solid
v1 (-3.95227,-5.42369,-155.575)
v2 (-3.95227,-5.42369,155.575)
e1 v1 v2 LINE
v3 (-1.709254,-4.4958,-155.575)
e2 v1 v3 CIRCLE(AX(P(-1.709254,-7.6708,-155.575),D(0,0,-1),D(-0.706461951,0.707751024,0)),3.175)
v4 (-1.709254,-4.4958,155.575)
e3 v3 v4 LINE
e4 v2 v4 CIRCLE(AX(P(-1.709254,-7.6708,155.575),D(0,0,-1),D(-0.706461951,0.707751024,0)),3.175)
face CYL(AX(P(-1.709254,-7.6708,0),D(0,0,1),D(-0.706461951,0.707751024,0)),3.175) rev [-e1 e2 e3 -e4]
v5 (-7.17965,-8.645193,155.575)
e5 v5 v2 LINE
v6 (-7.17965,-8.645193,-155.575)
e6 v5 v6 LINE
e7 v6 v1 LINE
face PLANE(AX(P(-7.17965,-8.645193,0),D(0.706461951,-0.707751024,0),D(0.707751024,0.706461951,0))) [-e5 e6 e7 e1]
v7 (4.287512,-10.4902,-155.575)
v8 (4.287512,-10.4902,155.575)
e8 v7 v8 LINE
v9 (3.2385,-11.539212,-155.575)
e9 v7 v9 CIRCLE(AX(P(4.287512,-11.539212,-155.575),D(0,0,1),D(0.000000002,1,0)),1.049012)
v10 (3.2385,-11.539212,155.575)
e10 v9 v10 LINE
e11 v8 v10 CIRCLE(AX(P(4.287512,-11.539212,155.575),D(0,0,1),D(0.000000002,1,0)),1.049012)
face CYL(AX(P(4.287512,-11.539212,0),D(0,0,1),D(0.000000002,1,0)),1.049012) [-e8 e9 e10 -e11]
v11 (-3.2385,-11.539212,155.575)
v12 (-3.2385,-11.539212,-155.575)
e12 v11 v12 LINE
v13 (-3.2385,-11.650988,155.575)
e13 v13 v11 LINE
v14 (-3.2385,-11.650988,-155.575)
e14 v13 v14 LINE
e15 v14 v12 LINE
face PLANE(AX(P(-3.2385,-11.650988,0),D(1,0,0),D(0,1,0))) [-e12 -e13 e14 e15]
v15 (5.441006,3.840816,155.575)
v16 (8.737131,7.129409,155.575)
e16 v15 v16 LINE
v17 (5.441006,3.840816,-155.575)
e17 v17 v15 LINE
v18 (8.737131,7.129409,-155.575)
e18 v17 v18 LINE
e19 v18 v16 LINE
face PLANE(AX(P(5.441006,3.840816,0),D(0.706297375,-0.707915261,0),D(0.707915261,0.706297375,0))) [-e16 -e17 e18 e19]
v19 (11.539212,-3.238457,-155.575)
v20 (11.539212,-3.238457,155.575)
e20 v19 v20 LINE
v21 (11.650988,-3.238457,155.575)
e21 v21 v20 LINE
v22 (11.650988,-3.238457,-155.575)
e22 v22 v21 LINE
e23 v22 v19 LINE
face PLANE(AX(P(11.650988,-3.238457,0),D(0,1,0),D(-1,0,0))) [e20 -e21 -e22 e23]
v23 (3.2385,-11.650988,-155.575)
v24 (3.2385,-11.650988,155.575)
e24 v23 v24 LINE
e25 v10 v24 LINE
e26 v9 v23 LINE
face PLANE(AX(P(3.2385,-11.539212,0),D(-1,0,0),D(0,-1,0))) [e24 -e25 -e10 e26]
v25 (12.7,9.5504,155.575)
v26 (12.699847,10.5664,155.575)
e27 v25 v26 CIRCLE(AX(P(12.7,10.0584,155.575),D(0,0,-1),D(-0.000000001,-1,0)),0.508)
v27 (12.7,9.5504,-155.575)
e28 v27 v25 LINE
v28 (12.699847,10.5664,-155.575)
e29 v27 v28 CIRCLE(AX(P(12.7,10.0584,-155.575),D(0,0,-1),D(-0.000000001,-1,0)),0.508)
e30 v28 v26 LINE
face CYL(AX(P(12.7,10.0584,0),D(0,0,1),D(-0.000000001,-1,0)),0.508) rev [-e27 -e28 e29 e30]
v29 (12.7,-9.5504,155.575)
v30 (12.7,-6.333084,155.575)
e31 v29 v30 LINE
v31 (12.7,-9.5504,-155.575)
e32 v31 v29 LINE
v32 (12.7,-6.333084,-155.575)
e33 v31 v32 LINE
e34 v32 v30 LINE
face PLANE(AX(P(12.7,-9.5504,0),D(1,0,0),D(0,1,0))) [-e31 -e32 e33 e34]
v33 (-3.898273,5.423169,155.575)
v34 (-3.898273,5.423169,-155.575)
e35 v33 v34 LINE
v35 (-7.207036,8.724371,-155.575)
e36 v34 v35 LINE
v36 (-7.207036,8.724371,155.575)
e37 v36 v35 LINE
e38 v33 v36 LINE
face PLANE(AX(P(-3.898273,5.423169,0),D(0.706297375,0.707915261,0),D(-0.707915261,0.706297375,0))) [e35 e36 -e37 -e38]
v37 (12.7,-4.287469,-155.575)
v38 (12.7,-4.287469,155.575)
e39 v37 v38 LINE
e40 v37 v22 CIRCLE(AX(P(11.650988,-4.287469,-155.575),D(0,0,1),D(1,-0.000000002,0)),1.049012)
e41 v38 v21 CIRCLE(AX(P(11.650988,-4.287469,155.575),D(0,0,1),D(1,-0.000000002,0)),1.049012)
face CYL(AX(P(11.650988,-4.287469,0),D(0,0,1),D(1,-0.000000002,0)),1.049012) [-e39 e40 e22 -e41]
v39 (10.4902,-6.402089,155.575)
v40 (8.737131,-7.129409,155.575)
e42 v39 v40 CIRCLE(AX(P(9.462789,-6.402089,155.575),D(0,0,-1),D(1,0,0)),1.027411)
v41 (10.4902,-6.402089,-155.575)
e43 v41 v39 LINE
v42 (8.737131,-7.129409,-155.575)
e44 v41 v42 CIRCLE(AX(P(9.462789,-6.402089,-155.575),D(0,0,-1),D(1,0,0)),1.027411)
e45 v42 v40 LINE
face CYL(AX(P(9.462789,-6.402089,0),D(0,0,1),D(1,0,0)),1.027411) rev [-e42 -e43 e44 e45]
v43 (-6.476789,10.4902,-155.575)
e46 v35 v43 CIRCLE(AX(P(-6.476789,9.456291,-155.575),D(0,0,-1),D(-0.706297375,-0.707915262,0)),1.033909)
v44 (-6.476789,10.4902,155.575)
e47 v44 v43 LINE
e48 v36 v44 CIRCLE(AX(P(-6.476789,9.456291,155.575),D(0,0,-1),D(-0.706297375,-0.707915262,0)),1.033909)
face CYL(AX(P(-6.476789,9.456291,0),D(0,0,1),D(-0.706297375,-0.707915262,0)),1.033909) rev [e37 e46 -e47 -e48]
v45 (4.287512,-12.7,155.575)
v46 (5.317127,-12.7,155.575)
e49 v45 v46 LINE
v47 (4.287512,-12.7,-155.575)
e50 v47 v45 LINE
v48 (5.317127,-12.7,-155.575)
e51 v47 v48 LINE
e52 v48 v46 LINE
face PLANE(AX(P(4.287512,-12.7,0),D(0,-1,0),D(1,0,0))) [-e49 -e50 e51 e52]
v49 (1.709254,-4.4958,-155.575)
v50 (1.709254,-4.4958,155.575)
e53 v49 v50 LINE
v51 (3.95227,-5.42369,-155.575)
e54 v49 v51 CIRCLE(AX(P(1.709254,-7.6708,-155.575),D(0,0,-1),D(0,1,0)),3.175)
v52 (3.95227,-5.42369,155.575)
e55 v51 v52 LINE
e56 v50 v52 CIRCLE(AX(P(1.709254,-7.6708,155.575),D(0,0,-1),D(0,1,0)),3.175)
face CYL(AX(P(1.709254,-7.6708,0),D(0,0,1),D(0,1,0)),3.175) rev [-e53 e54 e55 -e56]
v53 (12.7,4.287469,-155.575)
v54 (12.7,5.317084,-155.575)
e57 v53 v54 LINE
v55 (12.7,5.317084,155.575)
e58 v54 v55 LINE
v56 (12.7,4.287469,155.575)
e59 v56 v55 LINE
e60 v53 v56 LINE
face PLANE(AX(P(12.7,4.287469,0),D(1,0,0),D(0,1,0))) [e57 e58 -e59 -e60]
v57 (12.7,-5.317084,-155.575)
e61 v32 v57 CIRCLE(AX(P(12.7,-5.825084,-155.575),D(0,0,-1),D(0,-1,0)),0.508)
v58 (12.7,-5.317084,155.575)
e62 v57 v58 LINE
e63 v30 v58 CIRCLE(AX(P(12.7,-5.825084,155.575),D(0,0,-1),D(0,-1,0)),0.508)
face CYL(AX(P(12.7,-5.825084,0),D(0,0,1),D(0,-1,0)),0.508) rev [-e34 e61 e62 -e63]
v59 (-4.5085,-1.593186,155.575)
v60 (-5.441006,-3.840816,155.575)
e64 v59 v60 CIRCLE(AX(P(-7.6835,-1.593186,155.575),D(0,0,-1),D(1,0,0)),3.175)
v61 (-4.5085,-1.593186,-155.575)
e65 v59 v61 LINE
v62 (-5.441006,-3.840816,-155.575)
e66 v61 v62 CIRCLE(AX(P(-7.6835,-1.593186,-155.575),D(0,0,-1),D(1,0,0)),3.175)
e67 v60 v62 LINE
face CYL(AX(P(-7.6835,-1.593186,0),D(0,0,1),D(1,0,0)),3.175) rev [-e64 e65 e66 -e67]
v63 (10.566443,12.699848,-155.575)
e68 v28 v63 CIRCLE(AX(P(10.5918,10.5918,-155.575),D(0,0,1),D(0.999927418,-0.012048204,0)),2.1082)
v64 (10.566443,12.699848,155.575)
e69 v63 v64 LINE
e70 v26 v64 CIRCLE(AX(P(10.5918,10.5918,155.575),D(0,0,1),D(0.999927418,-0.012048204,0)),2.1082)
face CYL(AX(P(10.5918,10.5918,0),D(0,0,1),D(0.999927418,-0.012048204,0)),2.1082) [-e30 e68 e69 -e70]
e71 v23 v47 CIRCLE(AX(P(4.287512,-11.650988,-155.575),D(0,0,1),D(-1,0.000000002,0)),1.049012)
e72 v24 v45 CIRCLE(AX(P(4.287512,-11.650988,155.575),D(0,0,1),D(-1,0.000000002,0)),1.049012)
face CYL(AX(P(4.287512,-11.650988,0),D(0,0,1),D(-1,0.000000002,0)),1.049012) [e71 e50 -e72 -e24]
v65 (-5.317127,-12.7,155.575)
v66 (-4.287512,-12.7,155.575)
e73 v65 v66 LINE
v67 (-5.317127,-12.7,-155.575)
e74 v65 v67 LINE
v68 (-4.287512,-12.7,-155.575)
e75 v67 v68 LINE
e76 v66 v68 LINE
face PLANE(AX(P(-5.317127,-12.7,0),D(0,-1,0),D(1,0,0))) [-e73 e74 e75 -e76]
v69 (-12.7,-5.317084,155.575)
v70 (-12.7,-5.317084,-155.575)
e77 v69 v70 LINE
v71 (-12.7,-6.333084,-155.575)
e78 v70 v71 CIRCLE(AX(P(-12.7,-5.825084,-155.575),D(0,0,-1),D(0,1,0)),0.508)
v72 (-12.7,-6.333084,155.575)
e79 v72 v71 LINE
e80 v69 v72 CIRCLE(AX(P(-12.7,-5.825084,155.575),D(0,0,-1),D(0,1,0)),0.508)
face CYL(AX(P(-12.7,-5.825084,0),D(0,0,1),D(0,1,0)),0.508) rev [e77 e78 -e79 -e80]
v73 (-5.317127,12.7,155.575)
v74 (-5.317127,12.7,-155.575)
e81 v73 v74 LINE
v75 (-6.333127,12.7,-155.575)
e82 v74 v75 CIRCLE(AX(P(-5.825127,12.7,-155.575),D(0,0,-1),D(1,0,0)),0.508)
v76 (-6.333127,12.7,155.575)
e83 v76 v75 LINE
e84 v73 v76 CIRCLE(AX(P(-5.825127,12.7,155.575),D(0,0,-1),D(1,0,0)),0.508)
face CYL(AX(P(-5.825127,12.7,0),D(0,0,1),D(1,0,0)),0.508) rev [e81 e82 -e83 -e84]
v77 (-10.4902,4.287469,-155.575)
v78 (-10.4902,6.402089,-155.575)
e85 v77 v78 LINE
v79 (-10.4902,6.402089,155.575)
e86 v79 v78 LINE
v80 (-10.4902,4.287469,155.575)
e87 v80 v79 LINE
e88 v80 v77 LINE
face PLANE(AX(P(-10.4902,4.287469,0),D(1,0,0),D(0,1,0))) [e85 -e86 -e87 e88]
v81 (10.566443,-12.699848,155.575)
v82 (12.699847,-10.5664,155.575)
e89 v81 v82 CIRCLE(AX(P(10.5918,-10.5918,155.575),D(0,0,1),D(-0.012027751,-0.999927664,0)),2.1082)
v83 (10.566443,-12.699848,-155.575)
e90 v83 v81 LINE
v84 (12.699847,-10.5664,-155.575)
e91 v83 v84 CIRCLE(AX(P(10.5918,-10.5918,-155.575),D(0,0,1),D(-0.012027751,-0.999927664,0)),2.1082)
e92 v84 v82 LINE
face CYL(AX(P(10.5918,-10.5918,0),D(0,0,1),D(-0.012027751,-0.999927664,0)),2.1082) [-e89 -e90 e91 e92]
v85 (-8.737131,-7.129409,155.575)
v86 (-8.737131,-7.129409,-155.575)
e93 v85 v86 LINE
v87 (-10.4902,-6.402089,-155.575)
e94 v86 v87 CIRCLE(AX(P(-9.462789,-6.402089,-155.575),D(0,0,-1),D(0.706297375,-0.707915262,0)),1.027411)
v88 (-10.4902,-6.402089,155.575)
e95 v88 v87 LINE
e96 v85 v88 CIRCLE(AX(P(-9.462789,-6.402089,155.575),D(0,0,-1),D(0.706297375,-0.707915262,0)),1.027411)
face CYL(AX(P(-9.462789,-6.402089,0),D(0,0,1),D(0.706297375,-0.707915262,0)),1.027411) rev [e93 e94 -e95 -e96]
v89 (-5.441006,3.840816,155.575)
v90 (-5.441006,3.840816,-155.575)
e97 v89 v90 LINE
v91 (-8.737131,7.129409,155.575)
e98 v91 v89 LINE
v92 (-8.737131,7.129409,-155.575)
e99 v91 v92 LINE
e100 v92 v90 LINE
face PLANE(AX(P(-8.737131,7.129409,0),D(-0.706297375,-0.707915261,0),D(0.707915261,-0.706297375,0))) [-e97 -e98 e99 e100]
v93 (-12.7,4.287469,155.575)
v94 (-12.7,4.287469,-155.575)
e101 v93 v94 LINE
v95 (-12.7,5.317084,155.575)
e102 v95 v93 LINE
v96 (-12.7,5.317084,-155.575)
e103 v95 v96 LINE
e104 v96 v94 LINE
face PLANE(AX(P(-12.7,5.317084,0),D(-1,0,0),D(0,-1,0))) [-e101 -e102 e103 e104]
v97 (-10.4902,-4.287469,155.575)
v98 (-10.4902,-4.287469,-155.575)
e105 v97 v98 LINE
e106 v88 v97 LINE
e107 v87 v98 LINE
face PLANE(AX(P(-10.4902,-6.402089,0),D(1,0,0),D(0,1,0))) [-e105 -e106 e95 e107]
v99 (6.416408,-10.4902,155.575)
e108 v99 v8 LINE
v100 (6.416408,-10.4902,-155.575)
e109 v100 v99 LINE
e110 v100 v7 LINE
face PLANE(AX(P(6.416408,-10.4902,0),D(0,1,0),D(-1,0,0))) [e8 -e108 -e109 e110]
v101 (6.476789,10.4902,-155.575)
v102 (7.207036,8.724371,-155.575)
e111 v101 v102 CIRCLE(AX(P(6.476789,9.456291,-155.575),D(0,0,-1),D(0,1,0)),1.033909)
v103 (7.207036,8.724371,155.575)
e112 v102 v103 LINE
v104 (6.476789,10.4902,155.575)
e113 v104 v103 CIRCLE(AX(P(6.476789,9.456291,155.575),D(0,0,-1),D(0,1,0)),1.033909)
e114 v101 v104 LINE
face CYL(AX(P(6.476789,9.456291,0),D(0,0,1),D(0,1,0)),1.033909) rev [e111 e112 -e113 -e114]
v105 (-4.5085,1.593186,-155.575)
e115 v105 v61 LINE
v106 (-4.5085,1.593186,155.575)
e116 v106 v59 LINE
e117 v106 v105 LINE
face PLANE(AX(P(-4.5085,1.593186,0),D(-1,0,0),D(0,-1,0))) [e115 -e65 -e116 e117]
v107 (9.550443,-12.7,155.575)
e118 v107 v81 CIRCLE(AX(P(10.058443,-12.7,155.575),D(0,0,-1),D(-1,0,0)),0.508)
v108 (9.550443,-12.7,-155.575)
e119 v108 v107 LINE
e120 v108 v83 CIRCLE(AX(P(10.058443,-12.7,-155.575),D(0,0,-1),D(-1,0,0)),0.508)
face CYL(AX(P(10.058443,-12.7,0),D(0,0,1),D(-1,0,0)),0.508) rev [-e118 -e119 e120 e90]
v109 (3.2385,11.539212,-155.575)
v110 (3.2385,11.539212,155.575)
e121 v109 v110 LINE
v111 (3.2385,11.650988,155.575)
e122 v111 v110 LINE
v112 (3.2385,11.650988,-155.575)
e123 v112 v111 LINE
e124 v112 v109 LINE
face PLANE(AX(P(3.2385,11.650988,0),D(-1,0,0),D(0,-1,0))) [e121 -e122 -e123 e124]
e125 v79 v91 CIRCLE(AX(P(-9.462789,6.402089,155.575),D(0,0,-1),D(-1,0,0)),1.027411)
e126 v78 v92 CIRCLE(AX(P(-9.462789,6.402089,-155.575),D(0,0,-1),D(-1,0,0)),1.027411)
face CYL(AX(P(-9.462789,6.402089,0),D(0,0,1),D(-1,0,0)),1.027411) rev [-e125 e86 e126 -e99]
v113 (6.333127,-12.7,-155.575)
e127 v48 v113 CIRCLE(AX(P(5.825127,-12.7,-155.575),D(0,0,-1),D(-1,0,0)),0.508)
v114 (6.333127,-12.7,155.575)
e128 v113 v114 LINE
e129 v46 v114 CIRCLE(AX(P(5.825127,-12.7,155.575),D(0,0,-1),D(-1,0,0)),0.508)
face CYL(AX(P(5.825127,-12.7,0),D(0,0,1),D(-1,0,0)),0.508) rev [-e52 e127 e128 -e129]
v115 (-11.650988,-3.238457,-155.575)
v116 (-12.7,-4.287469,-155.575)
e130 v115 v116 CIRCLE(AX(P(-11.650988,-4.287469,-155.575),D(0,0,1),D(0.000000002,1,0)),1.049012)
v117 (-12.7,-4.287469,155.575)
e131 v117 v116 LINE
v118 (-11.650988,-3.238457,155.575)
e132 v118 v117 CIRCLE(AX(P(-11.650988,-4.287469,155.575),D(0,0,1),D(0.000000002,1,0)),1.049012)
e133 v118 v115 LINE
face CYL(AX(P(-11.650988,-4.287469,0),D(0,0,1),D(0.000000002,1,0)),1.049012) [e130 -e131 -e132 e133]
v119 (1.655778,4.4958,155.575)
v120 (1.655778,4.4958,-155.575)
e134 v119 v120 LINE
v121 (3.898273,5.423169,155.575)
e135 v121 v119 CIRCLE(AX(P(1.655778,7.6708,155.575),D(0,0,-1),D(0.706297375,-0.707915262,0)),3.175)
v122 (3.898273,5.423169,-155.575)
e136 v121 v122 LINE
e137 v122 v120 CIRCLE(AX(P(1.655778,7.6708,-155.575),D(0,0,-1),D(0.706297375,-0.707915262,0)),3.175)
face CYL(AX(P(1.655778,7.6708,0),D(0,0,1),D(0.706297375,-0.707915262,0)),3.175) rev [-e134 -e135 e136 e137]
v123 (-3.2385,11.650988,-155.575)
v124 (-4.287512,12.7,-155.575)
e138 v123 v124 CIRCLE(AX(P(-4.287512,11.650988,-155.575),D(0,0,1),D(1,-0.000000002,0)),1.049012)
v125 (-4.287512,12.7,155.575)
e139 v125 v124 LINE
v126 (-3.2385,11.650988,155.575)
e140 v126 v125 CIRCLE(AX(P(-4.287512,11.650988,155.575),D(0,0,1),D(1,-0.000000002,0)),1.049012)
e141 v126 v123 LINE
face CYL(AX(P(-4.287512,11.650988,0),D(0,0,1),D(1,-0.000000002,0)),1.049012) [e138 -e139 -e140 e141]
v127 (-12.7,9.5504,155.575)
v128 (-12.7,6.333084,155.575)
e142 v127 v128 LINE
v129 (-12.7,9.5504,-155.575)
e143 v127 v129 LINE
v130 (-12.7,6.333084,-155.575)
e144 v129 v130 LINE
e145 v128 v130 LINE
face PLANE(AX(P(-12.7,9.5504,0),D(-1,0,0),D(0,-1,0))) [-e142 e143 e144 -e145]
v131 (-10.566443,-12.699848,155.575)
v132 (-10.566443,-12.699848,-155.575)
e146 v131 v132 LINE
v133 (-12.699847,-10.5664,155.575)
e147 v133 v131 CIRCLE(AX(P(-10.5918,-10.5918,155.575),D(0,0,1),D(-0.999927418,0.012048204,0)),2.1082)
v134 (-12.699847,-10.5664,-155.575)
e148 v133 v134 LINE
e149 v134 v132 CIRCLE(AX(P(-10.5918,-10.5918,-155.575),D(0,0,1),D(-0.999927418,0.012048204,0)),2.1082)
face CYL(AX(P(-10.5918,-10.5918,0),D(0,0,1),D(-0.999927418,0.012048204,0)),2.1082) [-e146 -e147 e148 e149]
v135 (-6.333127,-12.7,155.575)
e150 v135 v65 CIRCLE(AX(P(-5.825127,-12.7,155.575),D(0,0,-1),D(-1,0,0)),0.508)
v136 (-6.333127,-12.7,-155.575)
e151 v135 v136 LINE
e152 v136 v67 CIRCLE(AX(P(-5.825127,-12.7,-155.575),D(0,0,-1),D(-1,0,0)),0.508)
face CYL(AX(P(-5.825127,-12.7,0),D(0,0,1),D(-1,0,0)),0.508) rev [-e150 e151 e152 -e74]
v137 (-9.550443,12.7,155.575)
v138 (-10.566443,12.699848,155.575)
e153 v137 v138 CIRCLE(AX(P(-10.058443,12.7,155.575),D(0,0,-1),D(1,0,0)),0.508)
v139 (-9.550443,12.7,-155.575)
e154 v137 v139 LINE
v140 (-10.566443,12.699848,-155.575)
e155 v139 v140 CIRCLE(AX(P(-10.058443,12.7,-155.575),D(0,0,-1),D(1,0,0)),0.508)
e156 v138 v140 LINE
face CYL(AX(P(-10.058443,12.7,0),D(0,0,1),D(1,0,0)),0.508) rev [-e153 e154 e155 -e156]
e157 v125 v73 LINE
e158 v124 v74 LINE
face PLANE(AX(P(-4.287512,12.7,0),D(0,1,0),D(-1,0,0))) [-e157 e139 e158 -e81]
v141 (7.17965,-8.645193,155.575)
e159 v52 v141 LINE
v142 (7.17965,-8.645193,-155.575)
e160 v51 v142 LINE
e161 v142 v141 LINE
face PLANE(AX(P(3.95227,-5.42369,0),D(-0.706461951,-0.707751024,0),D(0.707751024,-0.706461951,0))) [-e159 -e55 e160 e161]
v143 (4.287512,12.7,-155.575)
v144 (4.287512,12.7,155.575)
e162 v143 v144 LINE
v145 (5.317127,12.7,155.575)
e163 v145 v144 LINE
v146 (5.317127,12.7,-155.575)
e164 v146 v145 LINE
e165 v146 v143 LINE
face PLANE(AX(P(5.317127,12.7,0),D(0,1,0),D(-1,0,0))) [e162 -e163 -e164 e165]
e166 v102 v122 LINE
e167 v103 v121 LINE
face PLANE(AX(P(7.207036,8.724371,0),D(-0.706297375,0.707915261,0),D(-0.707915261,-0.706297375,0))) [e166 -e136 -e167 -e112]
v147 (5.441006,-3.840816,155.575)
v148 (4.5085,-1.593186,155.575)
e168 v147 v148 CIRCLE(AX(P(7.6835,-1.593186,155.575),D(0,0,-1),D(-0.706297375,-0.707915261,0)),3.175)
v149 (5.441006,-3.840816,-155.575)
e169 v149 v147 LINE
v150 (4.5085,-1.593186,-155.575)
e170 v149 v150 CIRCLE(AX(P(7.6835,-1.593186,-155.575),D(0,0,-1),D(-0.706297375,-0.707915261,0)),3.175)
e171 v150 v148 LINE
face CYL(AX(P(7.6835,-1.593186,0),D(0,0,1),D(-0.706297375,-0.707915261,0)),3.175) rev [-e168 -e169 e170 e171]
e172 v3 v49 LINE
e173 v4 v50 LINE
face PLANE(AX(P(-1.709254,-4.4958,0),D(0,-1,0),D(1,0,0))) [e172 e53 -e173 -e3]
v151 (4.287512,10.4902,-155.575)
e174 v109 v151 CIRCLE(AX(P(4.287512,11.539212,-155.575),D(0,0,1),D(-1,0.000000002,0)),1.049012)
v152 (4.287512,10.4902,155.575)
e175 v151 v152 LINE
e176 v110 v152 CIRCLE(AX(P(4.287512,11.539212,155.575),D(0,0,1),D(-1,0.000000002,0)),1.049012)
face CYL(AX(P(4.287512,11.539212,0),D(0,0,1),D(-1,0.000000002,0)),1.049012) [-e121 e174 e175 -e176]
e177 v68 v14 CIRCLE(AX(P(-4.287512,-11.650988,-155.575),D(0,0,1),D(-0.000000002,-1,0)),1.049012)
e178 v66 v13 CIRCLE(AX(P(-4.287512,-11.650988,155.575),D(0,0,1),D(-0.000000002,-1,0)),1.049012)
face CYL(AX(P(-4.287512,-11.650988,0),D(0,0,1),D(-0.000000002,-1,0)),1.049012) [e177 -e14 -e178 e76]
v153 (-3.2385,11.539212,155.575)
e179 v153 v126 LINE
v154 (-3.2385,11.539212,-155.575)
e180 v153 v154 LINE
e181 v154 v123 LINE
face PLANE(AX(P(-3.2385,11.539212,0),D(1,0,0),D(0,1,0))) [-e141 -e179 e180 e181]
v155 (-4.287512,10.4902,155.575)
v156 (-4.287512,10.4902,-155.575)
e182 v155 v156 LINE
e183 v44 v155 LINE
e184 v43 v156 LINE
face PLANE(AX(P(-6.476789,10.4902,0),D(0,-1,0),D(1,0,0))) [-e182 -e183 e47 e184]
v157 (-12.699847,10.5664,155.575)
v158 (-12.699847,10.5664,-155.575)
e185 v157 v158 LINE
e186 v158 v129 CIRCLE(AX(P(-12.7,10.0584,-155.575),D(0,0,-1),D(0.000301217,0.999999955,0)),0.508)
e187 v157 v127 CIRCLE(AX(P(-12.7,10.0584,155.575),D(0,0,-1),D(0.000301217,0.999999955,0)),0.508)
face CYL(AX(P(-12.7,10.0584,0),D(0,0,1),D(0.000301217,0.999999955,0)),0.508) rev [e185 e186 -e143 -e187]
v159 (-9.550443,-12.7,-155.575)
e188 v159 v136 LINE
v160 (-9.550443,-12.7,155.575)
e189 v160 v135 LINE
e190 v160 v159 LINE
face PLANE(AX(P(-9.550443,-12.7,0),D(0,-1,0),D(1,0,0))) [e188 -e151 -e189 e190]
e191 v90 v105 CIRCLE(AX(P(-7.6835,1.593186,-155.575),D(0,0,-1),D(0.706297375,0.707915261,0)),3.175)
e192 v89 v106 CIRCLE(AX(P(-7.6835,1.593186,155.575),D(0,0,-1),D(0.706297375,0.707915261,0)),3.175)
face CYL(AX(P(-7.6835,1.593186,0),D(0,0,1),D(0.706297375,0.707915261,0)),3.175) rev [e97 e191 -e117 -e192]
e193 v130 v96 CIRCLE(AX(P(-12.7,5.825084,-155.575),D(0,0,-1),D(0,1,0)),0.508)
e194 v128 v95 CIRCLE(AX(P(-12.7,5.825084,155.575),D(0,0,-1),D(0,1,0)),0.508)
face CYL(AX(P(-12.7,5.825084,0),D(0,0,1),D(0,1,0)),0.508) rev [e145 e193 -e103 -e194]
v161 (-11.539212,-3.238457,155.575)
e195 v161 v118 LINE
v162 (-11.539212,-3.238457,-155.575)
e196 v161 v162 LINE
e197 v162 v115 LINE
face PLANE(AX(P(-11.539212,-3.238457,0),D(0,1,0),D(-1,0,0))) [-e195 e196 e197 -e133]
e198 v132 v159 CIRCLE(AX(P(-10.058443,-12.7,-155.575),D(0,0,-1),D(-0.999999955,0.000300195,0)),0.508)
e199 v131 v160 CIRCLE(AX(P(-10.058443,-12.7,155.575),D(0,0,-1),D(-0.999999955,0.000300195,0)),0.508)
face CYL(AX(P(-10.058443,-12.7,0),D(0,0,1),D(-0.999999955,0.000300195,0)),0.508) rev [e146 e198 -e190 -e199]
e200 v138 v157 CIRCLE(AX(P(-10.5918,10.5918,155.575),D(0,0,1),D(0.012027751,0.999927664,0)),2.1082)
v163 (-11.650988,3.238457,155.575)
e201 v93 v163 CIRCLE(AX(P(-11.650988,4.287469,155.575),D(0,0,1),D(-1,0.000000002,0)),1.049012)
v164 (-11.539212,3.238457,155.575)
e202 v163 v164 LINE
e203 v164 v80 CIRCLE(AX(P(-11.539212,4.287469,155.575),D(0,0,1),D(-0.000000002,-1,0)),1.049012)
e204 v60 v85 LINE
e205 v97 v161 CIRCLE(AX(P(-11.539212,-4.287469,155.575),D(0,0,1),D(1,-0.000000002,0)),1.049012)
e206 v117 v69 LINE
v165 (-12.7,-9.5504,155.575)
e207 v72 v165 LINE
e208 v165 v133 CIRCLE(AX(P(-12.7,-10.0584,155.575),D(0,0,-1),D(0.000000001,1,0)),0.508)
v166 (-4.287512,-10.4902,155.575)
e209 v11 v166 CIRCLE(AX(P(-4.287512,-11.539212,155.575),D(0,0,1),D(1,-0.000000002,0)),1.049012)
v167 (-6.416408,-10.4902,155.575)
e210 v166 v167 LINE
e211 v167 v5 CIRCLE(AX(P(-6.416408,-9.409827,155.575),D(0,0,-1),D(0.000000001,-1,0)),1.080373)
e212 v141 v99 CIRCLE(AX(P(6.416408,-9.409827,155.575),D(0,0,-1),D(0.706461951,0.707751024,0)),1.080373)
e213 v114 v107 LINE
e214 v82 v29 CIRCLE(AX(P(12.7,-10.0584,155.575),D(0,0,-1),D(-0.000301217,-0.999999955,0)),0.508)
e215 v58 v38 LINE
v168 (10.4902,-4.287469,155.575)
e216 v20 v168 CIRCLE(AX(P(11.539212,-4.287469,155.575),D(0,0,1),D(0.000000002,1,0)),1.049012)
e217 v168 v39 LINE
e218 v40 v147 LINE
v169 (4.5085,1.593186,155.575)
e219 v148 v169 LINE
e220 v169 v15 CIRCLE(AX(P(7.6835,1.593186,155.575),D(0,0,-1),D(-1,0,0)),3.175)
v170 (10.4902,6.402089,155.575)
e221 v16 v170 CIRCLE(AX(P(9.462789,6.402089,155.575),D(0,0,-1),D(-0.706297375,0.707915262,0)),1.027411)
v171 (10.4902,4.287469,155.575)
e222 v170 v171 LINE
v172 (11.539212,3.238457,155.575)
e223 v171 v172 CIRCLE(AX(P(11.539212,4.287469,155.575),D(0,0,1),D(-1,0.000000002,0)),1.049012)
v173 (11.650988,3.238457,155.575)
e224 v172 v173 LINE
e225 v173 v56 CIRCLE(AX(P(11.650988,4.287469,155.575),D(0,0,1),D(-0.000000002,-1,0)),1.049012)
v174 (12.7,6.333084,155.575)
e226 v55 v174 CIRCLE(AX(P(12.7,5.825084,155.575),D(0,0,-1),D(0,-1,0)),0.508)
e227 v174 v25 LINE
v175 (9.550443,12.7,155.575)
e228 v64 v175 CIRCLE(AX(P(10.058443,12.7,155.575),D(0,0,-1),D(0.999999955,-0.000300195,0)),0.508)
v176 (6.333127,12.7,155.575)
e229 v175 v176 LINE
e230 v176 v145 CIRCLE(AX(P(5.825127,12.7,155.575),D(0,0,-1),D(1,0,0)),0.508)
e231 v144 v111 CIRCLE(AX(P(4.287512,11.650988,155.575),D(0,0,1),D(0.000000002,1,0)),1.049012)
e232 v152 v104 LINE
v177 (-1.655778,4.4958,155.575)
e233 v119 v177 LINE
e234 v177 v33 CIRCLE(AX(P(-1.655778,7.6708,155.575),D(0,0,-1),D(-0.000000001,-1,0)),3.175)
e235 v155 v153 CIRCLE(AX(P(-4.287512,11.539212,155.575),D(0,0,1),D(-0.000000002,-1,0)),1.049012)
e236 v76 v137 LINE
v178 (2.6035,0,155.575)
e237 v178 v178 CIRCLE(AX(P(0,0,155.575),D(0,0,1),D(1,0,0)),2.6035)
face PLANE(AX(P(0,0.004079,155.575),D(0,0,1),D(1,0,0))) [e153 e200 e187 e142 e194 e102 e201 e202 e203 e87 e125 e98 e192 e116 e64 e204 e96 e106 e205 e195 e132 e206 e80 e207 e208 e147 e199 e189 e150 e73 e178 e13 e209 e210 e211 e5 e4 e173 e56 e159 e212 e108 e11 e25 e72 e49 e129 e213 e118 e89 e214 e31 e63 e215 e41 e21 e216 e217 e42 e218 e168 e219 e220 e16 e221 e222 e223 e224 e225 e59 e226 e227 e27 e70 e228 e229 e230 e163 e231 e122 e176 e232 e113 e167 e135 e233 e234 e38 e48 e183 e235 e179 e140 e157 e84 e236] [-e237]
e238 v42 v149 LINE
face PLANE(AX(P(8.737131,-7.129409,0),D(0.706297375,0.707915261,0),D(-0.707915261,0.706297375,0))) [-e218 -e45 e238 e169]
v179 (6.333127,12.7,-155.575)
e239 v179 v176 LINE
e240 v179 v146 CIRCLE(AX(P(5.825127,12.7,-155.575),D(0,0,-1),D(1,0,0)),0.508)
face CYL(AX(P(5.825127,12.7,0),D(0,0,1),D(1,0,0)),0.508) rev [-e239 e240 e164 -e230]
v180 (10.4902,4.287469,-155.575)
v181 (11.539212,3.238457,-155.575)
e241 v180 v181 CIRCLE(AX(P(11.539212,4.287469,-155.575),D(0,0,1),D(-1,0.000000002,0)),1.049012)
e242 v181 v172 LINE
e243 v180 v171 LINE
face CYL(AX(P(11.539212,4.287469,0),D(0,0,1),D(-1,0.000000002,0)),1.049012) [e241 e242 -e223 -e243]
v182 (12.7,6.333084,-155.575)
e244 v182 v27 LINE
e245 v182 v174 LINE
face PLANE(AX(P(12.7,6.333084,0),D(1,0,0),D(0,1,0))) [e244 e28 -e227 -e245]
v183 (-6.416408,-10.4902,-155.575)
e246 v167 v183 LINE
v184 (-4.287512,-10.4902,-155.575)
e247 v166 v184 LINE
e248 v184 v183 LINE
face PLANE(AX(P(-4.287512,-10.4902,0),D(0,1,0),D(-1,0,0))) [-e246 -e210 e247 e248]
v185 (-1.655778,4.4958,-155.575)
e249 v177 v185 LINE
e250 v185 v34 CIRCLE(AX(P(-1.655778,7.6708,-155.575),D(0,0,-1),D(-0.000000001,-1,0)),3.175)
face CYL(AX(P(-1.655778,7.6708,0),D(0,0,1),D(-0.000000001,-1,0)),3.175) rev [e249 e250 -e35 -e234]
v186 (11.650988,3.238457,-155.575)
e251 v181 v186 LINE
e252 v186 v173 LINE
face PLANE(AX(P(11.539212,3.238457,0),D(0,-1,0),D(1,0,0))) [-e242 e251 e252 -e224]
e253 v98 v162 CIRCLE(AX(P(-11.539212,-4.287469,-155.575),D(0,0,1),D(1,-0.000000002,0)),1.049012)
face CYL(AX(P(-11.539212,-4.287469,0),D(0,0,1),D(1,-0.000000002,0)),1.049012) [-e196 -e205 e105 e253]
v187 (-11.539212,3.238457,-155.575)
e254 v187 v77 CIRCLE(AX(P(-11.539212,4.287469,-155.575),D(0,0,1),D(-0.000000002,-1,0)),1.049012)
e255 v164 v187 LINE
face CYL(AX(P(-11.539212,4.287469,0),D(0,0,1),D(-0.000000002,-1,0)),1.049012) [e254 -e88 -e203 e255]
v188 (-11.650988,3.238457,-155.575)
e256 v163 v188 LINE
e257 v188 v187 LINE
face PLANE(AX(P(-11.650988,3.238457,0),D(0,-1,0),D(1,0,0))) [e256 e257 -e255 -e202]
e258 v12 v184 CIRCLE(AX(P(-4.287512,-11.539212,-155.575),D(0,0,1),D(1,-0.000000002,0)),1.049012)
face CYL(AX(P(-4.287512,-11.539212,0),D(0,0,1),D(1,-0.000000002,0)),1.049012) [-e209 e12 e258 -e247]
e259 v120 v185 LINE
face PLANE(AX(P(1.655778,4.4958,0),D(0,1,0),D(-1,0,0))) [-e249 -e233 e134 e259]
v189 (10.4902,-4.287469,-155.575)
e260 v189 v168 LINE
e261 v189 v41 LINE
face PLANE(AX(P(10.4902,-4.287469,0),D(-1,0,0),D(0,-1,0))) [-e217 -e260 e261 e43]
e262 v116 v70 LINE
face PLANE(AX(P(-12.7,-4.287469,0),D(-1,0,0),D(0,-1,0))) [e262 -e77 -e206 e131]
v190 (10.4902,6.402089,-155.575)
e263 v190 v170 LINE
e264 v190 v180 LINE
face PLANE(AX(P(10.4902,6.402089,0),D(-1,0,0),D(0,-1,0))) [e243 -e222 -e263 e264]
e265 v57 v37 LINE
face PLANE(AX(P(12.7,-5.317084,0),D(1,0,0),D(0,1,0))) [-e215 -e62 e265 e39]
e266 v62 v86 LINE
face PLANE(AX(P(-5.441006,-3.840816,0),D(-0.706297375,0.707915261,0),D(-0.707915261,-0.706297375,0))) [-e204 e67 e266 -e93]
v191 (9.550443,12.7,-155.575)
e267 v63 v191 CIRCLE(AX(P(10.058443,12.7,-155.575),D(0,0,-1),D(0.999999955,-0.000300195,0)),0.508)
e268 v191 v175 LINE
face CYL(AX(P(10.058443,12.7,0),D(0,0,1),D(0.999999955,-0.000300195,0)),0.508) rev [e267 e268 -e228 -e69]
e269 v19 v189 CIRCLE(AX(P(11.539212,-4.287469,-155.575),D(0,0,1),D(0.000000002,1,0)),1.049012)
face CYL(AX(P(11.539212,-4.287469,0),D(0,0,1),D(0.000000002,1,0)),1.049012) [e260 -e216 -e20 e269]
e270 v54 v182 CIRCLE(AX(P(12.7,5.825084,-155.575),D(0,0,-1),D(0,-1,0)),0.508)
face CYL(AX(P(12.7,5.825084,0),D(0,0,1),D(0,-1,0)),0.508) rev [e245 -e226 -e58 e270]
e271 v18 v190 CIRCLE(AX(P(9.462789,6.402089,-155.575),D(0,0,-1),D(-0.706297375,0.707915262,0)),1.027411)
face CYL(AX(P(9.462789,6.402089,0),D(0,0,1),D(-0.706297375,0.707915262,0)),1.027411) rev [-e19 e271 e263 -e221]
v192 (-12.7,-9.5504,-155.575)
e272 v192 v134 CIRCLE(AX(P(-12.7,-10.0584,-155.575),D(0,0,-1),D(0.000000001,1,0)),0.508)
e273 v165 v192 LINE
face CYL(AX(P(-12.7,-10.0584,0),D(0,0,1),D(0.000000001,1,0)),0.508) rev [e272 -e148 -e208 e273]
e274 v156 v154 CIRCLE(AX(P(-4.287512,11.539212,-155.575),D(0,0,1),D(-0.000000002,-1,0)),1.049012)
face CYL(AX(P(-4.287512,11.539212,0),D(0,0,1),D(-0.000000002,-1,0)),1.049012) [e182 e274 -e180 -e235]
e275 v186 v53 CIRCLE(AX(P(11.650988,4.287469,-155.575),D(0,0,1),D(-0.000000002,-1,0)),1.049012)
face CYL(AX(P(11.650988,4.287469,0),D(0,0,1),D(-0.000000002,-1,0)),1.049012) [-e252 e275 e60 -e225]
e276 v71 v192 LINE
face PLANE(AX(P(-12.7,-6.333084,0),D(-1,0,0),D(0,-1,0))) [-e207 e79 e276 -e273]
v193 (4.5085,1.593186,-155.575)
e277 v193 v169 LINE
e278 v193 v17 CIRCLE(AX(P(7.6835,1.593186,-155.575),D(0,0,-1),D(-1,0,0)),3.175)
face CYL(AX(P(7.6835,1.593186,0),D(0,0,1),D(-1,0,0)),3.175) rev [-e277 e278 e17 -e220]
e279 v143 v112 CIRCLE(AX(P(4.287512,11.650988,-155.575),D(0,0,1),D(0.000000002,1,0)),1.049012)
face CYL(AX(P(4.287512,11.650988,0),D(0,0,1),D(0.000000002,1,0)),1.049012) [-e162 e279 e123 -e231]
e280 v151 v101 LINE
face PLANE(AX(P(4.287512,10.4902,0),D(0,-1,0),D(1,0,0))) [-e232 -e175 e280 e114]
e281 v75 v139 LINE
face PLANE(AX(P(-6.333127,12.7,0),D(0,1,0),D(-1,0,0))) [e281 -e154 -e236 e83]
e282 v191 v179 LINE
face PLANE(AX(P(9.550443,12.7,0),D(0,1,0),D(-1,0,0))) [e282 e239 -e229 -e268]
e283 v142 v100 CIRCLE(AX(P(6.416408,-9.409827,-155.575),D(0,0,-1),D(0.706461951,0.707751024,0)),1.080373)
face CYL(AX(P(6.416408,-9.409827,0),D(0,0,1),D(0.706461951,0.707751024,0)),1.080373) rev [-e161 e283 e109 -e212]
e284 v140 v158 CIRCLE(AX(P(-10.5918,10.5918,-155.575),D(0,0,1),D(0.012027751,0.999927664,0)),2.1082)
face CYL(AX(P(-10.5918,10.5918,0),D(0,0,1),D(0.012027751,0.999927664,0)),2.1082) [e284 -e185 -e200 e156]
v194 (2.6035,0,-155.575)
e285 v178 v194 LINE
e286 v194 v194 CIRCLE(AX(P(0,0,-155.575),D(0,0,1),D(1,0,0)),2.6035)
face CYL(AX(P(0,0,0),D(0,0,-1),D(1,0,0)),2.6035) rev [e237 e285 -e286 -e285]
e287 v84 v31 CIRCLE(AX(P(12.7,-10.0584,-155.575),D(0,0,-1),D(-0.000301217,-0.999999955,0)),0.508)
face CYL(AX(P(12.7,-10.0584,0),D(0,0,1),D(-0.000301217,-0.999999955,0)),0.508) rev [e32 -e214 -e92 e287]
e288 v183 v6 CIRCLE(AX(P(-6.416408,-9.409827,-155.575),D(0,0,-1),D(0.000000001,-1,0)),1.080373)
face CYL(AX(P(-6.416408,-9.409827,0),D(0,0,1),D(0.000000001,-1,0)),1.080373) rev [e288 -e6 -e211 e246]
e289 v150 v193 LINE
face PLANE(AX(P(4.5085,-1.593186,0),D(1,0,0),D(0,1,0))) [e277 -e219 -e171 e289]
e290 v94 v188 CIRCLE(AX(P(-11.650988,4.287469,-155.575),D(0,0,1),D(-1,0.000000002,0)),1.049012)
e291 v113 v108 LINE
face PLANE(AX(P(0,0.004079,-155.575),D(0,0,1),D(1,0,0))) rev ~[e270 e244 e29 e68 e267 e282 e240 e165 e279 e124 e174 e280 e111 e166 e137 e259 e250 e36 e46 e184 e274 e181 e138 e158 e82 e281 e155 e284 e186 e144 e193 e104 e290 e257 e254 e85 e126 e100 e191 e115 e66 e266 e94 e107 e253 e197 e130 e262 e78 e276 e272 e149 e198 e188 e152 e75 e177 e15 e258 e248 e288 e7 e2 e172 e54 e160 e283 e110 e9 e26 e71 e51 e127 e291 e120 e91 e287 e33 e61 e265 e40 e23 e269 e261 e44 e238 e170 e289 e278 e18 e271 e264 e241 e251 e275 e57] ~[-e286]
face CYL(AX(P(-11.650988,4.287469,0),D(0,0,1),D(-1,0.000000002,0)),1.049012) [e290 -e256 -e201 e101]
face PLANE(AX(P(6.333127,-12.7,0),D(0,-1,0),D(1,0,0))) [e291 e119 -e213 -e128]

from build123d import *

# Parameters (mm, degrees)
SKETCH1_R           = 2.6035
BOSS_EXTRUDE1_DEPTH = 155.575


with BuildPart() as part:
    # Sketch1 → Boss-Extrude1 (new, symmetric)
    with BuildSketch(Plane.XY):
        with BuildLine():
            Line((-7.179650497, -8.645192506), (-3.952270251, -5.423690499))
            ThreePointArc((-3.952270251, -5.423690499), (-2.922936451, -4.736929036), (-1.709253557, -4.4958))
            Line((-1.709253557, -4.4958), (1.709253557, -4.4958))
            ThreePointArc((1.709253557, -4.4958), (2.922936451, -4.736929036), (3.952270251, -5.423690499))
            Line((3.952270251, -5.423690499), (7.179650497, -8.645192506))
            ThreePointArc((7.179650497, -8.645192506), (7.41473083, -9.822813117), (6.416408329, -10.4902))
            Line((6.416408329, -10.4902), (4.287512407, -10.4902))
            ThreePointArc((4.287512407, -10.4902), (3.54574862, -10.79744862), (3.2385, -11.539212407))
            Line((3.2385, -11.539212407), (3.2385, -11.650987593))
            ThreePointArc((3.2385, -11.650987593), (3.54574862, -12.39275138), (4.287512407, -12.7))
            Line((4.287512407, -12.7), (5.317126718, -12.7))
            ThreePointArc((5.317126718, -12.7), (5.825126718, -12.192), (6.333126718, -12.7))
            Line((6.333126718, -12.7), (9.550443118, -12.7))
            ThreePointArc((9.550443118, -12.7), (10.058366869, -12.192000006), (10.566443095, -12.699847501))
            ThreePointArc((10.566443095, -12.699847501), (12.082537762, -12.08250727), (12.699846982, -10.566399977))
            ThreePointArc((12.699846982, -10.566399977), (12.192000006, -10.058323491), (12.7, -9.5504))
            Line((12.7, -9.5504), (12.7, -6.3330836))
            ThreePointArc((12.7, -6.3330836), (12.192, -5.8250836), (12.7, -5.3170836))
            Line((12.7, -5.3170836), (12.7, -4.287469289))
            ThreePointArc((12.7, -4.287469289), (12.39275138, -3.545705502), (11.650987593, -3.238456882))
            Line((11.650987593, -3.238456882), (11.539212407, -3.238456882))
            ThreePointArc((11.539212407, -3.238456882), (10.79744862, -3.545705502), (10.4902, -4.287469289))
            Line((10.4902, -4.287469289), (10.4902, -6.402089023))
            ThreePointArc((10.4902, -6.402089023), (9.856505071, -7.351067942), (8.737131347, -7.129408934))
            Line((8.737131347, -7.129408934), (5.441005833, -3.840816462))
            ThreePointArc((5.441005833, -3.840816462), (4.750877967, -2.809883091), (4.5085, -1.593185507))
            Line((4.5085, -1.593185507), (4.5085, 1.593185507))
            ThreePointArc((4.5085, 1.593185507), (4.750877967, 2.809883091), (5.441005833, 3.840816462))
            Line((5.441005833, 3.840816462), (8.737131347, 7.129408934))
            ThreePointArc((8.737131347, 7.129408934), (9.856505071, 7.351067942), (10.4902, 6.402089023))
            Line((10.4902, 6.402089023), (10.4902, 4.287469289))
            ThreePointArc((10.4902, 4.287469289), (10.79744862, 3.545705502), (11.539212407, 3.238456882))
            Line((11.539212407, 3.238456882), (11.650987593, 3.238456882))
            ThreePointArc((11.650987593, 3.238456882), (12.39275138, 3.545705502), (12.7, 4.287469289))
            Line((12.7, 4.287469289), (12.7, 5.3170836))
            ThreePointArc((12.7, 5.3170836), (12.192, 5.8250836), (12.7, 6.3330836))
            Line((12.7, 6.3330836), (12.7, 9.5504))
            ThreePointArc((12.7, 9.5504), (12.192000006, 10.058323491), (12.699846982, 10.566399977))
            ThreePointArc((12.699846982, 10.566399977), (12.082537762, 12.08250727), (10.566443095, 12.699847501))
            ThreePointArc((10.566443095, 12.699847501), (10.058366869, 12.192000006), (9.550443118, 12.7))
            Line((9.550443118, 12.7), (6.333126718, 12.7))
            ThreePointArc((6.333126718, 12.7), (5.825126718, 12.192), (5.317126718, 12.7))
            Line((5.317126718, 12.7), (4.287512407, 12.7))
            ThreePointArc((4.287512407, 12.7), (3.54574862, 12.39275138), (3.2385, 11.650987593))
            Line((3.2385, 11.650987593), (3.2385, 11.539212407))
            ThreePointArc((3.2385, 11.539212407), (3.54574862, 10.79744862), (4.287512407, 10.4902))
            Line((4.287512407, 10.4902), (6.476788598, 10.4902))
            ThreePointArc((6.476788598, 10.4902), (7.432222385, 9.85140422), (7.207036008, 8.724370562))
            Line((7.207036008, 8.724370562), (3.898272566, 5.423169045))
            ThreePointArc((3.898272566, 5.423169045), (2.869120213, 4.736787962), (1.655778399, 4.4958))
            Line((1.655778399, 4.4958), (-1.655778399, 4.4958))
            ThreePointArc((-1.655778399, 4.4958), (-2.869120213, 4.736787962), (-3.898272566, 5.423169045))
            Line((-3.898272566, 5.423169045), (-7.207036008, 8.724370562))
            ThreePointArc((-7.207036008, 8.724370562), (-7.432222385, 9.85140422), (-6.476788598, 10.4902))
            Line((-6.476788598, 10.4902), (-4.287512407, 10.4902))
            ThreePointArc((-4.287512407, 10.4902), (-3.54574862, 10.79744862), (-3.2385, 11.539212407))
            Line((-3.2385, 11.539212407), (-3.2385, 11.650987593))
            ThreePointArc((-3.2385, 11.650987593), (-3.54574862, 12.39275138), (-4.287512407, 12.7))
            Line((-4.287512407, 12.7), (-5.317126718, 12.7))
            ThreePointArc((-5.317126718, 12.7), (-5.825126718, 12.192), (-6.333126718, 12.7))
            Line((-6.333126718, 12.7), (-9.550443118, 12.7))
            ThreePointArc((-9.550443118, 12.7), (-10.058366869, 12.192000006), (-10.566443095, 12.699847501))
            ThreePointArc((-10.566443095, 12.699847501), (-12.082537762, 12.08250727), (-12.699846982, 10.566399977))
            ThreePointArc((-12.699846982, 10.566399977), (-12.192000006, 10.058323491), (-12.7, 9.5504))
            Line((-12.7, 9.5504), (-12.7, 6.3330836))
            ThreePointArc((-12.7, 6.3330836), (-12.192, 5.8250836), (-12.7, 5.3170836))
            Line((-12.7, 5.3170836), (-12.7, 4.287469289))
            ThreePointArc((-12.7, 4.287469289), (-12.39275138, 3.545705502), (-11.650987593, 3.238456882))
            Line((-11.650987593, 3.238456882), (-11.539212407, 3.238456882))
            ThreePointArc((-11.539212407, 3.238456882), (-10.79744862, 3.545705502), (-10.4902, 4.287469289))
            Line((-10.4902, 4.287469289), (-10.4902, 6.402089023))
            ThreePointArc((-10.4902, 6.402089023), (-9.856505071, 7.351067942), (-8.737131347, 7.129408934))
            Line((-8.737131347, 7.129408934), (-5.441005833, 3.840816462))
            ThreePointArc((-5.441005833, 3.840816462), (-4.750877967, 2.809883091), (-4.5085, 1.593185507))
            Line((-4.5085, 1.593185507), (-4.5085, -1.593185507))
            ThreePointArc((-4.5085, -1.593185507), (-4.750877967, -2.809883091), (-5.441005833, -3.840816462))
            Line((-5.441005833, -3.840816462), (-8.737131347, -7.129408934))
            ThreePointArc((-8.737131347, -7.129408934), (-9.856505071, -7.351067942), (-10.4902, -6.402089023))
            Line((-10.4902, -6.402089023), (-10.4902, -4.287469289))
            ThreePointArc((-10.4902, -4.287469289), (-10.79744862, -3.545705502), (-11.539212407, -3.238456882))
            Line((-11.539212407, -3.238456882), (-11.650987593, -3.238456882))
            ThreePointArc((-11.650987593, -3.238456882), (-12.39275138, -3.545705502), (-12.7, -4.287469289))
            Line((-12.7, -4.287469289), (-12.7, -5.3170836))
            ThreePointArc((-12.7, -5.3170836), (-12.192, -5.8250836), (-12.7, -6.3330836))
            Line((-12.7, -6.3330836), (-12.7, -9.5504))
            ThreePointArc((-12.7, -9.5504), (-12.192000006, -10.058323491), (-12.699846982, -10.566399977))
            ThreePointArc((-12.699846982, -10.566399977), (-12.082537762, -12.08250727), (-10.566443095, -12.699847501))
            ThreePointArc((-10.566443095, -12.699847501), (-10.058366869, -12.192000006), (-9.550443118, -12.7))
            Line((-9.550443118, -12.7), (-6.333126718, -12.7))
            ThreePointArc((-6.333126718, -12.7), (-5.825126718, -12.192), (-5.317126718, -12.7))
            Line((-5.317126718, -12.7), (-4.287512407, -12.7))
            ThreePointArc((-4.287512407, -12.7), (-3.54574862, -12.39275138), (-3.2385, -11.650987593))
            Line((-3.2385, -11.650987593), (-3.2385, -11.539212407))
            ThreePointArc((-3.2385, -11.539212407), (-3.54574862, -10.79744862), (-4.287512407, -10.4902))
            Line((-4.287512407, -10.4902), (-6.416408329, -10.4902))
            ThreePointArc((-6.416408329, -10.4902), (-7.41473083, -9.822813117), (-7.179650497, -8.645192506))
        make_face()
        Circle(SKETCH1_R, mode=Mode.SUBTRACT)
    extrude(amount=BOSS_EXTRUDE1_DEPTH, both=True)


solid = part.part
